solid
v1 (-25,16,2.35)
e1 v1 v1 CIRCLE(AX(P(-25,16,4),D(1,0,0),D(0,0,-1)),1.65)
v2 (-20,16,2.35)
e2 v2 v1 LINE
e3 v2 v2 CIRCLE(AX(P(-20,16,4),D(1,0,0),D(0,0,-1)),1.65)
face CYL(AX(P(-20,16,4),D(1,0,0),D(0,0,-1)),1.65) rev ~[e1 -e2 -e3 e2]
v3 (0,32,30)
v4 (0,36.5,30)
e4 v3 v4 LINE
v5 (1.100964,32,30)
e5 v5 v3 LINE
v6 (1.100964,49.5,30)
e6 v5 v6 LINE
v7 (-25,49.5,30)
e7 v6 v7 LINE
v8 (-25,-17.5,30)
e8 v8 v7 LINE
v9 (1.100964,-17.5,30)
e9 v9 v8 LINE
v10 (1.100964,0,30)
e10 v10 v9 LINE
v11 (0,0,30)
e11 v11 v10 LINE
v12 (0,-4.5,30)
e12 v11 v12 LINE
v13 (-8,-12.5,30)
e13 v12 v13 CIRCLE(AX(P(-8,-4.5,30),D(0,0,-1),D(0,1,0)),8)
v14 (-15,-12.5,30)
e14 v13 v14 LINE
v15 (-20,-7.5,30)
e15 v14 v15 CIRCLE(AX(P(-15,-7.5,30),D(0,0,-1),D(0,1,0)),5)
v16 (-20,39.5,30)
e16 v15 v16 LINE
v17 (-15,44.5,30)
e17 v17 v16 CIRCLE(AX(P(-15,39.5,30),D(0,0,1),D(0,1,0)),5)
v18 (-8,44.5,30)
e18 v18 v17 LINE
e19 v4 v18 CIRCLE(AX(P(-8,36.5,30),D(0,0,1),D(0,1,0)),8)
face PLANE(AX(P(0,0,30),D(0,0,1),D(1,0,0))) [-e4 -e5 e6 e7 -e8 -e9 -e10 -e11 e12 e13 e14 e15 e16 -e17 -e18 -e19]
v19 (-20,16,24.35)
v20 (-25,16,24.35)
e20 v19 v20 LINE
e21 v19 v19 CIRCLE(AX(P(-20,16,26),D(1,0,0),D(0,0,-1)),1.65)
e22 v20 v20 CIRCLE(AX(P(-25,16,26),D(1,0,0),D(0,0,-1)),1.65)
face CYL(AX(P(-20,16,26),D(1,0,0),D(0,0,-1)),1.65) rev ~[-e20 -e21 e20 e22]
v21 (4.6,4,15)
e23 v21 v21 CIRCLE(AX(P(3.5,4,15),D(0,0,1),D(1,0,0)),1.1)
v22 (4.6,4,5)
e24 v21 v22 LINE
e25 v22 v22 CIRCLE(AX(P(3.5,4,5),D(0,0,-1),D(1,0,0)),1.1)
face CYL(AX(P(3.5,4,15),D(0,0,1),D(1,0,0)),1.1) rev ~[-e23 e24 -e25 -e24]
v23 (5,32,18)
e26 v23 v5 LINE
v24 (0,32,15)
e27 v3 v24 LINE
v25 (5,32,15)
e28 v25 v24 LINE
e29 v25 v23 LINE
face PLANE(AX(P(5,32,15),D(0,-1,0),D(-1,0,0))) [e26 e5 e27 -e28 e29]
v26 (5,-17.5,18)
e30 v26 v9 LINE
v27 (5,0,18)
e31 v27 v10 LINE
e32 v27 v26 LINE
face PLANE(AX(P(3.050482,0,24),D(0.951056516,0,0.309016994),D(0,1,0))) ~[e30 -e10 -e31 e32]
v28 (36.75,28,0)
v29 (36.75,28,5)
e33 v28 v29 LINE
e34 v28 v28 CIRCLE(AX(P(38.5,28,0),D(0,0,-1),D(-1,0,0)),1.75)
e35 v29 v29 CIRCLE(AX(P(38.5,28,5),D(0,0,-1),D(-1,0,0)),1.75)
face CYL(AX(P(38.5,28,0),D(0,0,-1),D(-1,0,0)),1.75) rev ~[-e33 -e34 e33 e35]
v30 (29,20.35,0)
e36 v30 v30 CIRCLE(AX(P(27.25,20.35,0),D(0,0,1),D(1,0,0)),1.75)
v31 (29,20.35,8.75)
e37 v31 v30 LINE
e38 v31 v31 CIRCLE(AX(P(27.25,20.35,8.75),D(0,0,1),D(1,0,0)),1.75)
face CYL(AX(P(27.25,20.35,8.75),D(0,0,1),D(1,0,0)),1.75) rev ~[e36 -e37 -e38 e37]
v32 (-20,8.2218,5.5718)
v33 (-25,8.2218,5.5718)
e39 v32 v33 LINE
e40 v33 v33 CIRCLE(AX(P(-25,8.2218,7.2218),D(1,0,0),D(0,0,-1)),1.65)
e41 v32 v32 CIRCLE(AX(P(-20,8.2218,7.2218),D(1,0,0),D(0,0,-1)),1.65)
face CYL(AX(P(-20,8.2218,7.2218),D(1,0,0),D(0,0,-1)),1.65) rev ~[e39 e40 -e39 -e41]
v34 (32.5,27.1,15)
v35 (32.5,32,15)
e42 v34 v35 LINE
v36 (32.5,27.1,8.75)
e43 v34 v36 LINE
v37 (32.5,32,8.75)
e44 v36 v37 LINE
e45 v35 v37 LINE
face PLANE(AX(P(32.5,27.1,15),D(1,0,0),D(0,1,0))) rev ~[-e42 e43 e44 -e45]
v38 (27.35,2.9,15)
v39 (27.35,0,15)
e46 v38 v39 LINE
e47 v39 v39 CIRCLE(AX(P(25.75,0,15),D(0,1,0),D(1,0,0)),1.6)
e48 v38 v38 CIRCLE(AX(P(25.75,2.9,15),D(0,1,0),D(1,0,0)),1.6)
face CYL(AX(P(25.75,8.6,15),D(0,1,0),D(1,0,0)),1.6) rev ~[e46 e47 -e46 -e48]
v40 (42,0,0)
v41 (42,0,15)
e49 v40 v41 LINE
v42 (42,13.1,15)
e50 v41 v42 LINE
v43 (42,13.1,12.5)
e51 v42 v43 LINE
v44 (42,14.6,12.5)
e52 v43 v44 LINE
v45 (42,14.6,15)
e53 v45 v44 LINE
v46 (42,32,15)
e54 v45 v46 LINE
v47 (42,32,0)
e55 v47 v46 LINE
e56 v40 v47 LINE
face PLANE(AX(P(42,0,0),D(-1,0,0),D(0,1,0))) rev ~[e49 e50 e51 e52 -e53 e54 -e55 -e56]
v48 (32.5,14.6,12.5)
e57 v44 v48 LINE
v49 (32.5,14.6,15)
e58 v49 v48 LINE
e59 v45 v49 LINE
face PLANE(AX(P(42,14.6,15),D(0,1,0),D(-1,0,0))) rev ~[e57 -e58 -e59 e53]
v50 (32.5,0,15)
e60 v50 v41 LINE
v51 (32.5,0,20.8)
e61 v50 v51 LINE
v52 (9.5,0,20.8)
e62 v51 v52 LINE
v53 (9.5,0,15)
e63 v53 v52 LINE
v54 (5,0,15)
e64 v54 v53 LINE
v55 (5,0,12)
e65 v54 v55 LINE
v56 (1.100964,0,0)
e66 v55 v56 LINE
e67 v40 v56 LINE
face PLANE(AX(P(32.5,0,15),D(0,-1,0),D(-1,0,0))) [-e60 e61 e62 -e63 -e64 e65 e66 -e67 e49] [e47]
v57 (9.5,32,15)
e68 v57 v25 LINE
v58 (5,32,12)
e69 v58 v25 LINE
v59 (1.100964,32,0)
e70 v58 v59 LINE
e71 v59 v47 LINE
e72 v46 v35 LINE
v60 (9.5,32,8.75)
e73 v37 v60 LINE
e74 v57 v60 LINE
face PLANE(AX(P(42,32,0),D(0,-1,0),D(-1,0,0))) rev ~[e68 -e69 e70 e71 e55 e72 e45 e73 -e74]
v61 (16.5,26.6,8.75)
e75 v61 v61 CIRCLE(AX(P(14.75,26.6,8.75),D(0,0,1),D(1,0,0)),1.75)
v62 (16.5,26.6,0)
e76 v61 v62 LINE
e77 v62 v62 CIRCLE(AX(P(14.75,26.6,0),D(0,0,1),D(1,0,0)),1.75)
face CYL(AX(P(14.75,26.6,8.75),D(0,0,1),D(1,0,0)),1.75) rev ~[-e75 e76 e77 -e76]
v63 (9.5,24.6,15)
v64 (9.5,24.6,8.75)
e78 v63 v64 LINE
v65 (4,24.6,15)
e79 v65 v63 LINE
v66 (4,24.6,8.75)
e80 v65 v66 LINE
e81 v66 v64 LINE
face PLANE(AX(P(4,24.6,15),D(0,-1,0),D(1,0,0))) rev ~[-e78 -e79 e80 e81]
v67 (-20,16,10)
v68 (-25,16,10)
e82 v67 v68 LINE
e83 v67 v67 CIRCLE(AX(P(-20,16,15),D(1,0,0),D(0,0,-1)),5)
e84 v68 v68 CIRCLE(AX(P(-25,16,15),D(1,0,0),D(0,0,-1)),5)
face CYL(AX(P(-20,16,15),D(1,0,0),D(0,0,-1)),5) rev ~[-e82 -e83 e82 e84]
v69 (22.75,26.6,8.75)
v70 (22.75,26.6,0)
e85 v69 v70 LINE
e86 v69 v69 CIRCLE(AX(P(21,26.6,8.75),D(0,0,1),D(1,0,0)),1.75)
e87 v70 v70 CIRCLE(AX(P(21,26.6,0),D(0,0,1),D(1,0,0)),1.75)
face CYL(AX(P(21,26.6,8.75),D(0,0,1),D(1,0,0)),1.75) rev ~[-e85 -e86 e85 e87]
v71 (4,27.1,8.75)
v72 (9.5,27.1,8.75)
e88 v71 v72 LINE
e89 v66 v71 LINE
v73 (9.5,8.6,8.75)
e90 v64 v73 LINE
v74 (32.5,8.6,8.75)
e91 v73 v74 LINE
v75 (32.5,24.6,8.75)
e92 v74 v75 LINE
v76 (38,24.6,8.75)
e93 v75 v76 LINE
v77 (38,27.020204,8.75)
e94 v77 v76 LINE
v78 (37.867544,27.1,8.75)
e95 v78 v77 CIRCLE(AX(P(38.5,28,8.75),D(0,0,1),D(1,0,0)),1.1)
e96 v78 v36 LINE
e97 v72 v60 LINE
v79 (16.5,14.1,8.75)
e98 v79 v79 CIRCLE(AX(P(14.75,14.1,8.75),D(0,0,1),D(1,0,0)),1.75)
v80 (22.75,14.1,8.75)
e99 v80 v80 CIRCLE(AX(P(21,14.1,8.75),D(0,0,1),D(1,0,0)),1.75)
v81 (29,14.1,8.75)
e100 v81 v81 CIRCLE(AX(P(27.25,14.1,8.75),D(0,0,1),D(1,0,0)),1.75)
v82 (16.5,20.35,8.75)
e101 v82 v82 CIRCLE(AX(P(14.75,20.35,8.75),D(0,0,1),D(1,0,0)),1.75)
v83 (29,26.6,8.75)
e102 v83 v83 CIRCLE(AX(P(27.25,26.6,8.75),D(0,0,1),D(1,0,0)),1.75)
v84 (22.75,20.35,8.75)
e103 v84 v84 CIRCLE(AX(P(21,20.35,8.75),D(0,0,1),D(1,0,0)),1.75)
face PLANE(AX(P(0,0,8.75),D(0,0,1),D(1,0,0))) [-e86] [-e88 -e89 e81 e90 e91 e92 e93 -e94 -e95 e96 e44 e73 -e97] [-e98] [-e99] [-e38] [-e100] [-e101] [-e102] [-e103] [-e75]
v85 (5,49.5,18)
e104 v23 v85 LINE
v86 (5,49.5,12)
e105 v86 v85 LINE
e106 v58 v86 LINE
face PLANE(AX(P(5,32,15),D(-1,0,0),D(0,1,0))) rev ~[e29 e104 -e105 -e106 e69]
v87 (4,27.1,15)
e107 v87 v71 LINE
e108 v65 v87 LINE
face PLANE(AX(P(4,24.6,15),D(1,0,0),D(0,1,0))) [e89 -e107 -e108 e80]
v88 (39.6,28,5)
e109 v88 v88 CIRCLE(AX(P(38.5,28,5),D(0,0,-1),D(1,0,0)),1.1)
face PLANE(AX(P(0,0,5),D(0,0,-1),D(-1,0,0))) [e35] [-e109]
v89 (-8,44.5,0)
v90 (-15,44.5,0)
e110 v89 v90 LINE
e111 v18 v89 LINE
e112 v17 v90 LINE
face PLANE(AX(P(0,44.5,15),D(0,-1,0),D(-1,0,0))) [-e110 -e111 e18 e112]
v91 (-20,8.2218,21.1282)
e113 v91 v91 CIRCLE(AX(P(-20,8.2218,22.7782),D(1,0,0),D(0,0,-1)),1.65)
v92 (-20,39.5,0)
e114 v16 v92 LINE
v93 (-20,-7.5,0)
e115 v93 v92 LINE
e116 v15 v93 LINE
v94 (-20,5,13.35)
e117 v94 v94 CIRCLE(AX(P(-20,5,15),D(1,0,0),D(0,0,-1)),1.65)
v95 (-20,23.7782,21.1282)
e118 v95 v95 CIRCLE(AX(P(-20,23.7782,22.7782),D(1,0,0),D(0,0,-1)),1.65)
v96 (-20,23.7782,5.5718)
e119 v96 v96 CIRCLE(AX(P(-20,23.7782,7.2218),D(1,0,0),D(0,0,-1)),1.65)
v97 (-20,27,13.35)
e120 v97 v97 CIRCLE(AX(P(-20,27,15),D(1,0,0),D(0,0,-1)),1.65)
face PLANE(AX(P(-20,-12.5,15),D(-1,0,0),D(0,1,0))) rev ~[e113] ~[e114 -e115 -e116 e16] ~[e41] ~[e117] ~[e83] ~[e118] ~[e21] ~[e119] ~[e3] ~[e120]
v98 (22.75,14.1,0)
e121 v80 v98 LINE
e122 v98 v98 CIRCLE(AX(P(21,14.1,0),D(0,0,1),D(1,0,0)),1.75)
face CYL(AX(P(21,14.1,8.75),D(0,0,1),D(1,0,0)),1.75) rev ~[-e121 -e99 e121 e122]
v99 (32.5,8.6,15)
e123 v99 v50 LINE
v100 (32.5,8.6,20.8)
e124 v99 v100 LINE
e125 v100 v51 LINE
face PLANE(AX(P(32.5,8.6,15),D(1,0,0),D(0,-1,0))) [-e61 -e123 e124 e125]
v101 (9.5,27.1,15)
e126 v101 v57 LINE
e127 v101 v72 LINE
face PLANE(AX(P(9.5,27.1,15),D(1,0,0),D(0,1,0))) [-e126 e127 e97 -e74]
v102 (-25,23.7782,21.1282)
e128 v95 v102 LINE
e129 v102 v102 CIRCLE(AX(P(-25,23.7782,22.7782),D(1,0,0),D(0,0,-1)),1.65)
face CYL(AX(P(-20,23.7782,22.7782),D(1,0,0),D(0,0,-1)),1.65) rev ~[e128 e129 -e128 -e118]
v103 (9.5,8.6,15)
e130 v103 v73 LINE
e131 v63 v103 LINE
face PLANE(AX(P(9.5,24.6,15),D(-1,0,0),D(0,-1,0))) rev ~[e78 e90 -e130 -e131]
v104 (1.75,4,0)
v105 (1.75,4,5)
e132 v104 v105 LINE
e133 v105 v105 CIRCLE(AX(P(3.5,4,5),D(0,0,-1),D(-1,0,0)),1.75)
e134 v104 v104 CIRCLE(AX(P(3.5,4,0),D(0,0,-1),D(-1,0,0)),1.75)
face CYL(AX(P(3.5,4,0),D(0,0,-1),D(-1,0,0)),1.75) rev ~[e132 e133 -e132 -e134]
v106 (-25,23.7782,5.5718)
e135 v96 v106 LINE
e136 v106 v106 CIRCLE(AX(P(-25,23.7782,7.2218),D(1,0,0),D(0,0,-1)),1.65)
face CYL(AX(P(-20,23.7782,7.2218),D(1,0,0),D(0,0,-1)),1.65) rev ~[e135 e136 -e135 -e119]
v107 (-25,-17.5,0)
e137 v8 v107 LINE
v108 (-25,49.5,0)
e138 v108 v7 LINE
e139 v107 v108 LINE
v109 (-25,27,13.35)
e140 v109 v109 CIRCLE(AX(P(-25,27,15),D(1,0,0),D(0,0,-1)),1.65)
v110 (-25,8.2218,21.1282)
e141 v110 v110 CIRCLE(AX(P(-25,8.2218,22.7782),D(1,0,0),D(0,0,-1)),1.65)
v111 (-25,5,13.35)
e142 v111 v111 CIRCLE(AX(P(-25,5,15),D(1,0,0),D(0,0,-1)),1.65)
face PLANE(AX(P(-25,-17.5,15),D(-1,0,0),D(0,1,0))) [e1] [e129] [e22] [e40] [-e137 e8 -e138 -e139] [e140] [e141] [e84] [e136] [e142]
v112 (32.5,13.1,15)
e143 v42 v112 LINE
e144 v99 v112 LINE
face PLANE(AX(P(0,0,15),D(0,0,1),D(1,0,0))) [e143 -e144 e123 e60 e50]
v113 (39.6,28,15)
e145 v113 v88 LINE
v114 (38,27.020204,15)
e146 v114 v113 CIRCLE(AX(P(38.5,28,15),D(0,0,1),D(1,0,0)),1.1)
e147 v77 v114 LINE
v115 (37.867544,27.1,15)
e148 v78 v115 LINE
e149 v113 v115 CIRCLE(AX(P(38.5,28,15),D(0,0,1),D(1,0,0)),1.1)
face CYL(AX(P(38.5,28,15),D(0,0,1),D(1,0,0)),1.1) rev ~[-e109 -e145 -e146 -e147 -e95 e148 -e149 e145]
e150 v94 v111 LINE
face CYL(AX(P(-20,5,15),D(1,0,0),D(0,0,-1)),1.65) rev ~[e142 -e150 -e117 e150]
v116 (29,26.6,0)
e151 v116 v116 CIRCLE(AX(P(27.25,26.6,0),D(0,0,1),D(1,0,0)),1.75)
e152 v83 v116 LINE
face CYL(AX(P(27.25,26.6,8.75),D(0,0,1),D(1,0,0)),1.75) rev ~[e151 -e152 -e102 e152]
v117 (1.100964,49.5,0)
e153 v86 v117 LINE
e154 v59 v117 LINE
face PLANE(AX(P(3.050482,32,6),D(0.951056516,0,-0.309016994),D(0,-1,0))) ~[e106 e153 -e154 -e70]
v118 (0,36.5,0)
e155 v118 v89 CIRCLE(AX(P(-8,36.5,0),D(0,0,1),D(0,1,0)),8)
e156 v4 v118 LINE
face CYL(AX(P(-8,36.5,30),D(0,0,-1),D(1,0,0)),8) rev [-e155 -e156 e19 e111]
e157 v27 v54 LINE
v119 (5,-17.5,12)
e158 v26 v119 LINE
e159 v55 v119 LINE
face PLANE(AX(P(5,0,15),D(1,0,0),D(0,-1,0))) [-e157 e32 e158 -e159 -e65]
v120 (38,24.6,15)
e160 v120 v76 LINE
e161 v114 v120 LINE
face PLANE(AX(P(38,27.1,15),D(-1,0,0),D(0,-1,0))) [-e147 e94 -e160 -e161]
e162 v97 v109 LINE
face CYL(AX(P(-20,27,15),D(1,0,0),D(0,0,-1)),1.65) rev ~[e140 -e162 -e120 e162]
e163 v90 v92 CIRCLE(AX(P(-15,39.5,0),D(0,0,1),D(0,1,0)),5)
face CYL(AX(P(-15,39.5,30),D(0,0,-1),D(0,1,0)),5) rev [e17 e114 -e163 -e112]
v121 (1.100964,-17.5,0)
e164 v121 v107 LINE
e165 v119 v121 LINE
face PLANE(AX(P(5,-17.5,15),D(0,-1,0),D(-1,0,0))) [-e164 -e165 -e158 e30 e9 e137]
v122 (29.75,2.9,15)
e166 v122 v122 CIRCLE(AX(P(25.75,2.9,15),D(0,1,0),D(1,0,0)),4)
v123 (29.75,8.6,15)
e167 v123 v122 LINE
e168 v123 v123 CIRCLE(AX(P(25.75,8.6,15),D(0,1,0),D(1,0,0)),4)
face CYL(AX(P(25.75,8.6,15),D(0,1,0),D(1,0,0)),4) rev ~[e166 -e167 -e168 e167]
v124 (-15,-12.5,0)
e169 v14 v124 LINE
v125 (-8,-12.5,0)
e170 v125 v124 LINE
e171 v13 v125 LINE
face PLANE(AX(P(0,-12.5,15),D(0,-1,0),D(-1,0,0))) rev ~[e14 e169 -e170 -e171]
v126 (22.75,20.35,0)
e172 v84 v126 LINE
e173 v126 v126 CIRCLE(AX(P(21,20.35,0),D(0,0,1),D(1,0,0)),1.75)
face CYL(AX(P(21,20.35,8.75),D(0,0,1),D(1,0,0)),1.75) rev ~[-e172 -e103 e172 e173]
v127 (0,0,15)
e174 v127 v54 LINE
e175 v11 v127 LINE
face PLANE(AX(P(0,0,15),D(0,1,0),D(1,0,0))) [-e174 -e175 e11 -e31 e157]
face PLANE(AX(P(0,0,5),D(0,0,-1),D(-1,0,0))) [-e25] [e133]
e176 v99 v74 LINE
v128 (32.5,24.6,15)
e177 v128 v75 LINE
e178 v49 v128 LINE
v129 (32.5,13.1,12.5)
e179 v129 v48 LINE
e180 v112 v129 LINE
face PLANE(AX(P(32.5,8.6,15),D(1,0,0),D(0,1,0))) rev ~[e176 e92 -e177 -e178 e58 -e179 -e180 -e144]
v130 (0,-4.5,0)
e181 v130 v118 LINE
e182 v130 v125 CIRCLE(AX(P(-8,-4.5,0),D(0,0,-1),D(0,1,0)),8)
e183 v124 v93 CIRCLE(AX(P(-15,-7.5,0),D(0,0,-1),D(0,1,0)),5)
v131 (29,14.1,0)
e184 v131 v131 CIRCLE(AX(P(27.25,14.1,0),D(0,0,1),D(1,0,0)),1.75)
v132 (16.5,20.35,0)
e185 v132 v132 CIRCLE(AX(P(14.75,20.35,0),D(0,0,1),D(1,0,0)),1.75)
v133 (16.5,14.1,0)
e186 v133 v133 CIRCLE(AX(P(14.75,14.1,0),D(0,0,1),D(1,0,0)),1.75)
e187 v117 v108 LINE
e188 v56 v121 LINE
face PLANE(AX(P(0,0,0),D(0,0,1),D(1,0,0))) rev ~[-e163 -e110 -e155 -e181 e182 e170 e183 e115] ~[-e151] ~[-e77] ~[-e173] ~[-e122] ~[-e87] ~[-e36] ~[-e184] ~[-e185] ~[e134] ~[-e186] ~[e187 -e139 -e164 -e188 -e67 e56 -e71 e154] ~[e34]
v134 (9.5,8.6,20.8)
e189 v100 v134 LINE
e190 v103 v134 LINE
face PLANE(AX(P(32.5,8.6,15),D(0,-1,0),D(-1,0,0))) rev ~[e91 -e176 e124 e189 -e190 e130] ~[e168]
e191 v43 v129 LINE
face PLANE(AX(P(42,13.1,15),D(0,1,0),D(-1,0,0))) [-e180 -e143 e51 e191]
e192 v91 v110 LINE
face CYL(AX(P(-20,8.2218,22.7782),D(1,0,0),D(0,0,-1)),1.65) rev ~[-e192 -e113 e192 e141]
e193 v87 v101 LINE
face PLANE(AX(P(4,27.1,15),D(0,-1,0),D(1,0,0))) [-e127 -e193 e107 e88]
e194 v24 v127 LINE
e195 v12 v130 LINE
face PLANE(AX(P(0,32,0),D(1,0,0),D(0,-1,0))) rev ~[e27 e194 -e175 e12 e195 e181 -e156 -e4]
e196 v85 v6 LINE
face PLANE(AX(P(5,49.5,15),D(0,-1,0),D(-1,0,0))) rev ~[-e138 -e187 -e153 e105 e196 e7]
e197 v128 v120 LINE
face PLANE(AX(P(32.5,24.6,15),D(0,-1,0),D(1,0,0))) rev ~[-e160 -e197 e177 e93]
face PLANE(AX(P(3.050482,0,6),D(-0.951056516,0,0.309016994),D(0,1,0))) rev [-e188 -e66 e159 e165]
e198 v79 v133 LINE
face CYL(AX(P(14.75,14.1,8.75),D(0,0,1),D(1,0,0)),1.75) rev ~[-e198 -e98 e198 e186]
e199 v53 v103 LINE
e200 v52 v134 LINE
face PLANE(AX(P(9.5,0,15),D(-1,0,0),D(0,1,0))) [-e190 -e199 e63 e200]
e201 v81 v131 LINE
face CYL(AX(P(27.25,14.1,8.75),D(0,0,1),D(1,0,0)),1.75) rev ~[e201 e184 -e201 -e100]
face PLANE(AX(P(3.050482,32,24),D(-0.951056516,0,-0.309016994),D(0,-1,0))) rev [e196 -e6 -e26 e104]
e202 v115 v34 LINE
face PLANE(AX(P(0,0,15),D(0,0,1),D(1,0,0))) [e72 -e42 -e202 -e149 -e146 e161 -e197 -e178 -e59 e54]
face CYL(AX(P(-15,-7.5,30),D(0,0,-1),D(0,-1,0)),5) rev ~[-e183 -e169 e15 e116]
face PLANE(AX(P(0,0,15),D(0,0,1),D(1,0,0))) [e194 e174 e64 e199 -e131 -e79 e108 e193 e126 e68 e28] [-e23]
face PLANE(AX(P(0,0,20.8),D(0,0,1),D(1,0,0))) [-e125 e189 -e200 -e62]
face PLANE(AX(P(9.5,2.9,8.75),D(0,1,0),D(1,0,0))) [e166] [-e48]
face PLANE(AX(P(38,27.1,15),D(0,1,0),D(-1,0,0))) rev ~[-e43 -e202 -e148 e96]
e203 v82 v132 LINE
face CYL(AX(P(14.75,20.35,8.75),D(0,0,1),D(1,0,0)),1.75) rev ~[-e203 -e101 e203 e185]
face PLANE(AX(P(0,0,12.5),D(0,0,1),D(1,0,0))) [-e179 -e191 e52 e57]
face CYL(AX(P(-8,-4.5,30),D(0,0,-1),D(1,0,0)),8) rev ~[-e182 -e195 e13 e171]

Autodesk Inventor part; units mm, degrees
ref_plane "YZ Plane" through (0, 0, 0) normal (1, 0, 0) x (0, 1, 0)
ref_plane "XZ Plane" through (0, 0, 0) normal (0, 1, 0) x (-1, 0, 0)
ref_plane "XY Plane" through (0, 0, 0) normal (0, 0, 1) x (1, 0, 0)
sketch "Sketch2" plane through (0, 0, 0) normal (0, 0, 1) x (1, 0, 0)
  line L0 (0, 0) -> (42, 0)
  line L1 (42, 0) -> (42, 32)
  line L2 (42, 32) -> (0, 32)
  line L3 (0, 32) -> (0, 0)
  dimension "d0" = 42
  dimension "d1" = 32
extrude "Body_body" add sketch "Sketch2" along normal blind 15
sketch "Sketch4" plane through (0, 0, 15) normal (0, 0, 1) x (1, 0, 0)
  line L0 (42, 32) -> (0, 32) projected
  line L1 (0, 32) -> (0, 0) projected
  line L2 (4, 24.6) -> (9.5, 24.6)
  line L3 (9.5, 24.6) -> (9.5, 8.6)
  line L4 (9.5, 8.6) -> (32.5, 8.6)
  line L5 (32.5, 8.6) -> (32.5, 24.6)
  line L6 (32.5, 24.6) -> (38, 24.6)
  line L7 (42, 0) -> (42, 32) projected
  line L8 (0, 0) -> (42, 0) projected
  line L9 (4, 24.6) -> (4, 27.1)
  line L10 (4, 27.1) -> (9.5, 27.1)
  line L11 (9.5, 27.1) -> (9.5, 32)
  line L12 (38, 27.1) -> (38, 24.6)
  line L13 (38, 27.1) -> (32.5, 27.1)
  line L14 (32.5, 27.1) -> (32.5, 32)
  line L15 (9.5, 32) -> (32.5, 32)
  line L16 (21, 36.5125) -> (21, -47.625) construction
  point P0 (4.9935, 32)
  point P1 (37, 32)
  dimension "d6" = 5.5
  dimension "d7" = 16
  dimension "d8" = 23
  dimension "d11" = 8.6
  dimension "d14" = 2.5
  dimension "d15" = 2.5
  dimension "d22" = 42
  dimension "d23" = 21
  dimension "d24" = 23
  dimension "d25" = 11.5
  dimension "d26" = 4.9
  dimension "d27" = 4.9
  dimension "d28" = 5.5
extrude "Servo_Intake" cut sketch "Sketch4" against normal blind 6.25 contours L14 L13 L12 L6 L5 L4 L3 L2 L9 L10 L11 L0
sketch "Sketch5" plane through (0, 0, 15) normal (0, 0, 1) x (1, 0, 0)
  line L0 (42, 0) -> (42, 32) projected
  line L1 (42, 14.6) -> (42, 13.1)
  line L2 (-29.647, 13.85) -> (54.8226, 13.85) construction
  line L3 (0, 0) -> (42, 0) projected
  line L4 (32.5, 8.6) -> (9.5, 8.6) projected
  line L5 (42, 13.1) -> (32.5, 13.1)
  line L6 (32.5, 13.1) -> (32.5, 14.6)
  line L7 (32.5, 24.6) -> (32.5, 8.6) projected
  line L8 (42, 14.6) -> (32.5, 14.6)
  dimension "d171" = 1.5
  dimension "d211" = 4.5
extrude "Cable_Opening" cut sketch "Sketch5" against normal blind 2.5
sketch "Sketch6" plane through (0, 0, 15) normal (0, 0, 1) x (1, 0, 0)
  circle A0 centre (3.5, 28) radius 1.1 construction
  circle A1 centre (38.5, 28) radius 1.1
  circle A2 centre (38.5, 4) radius 1.1 construction
  circle A3 centre (3.5, 4) radius 1.1
  line L0 (21, 34.35) -> (21, -13.275) construction
  line L1 (-20.6375, 16) -> (66.675, 16) construction
  line L2 (42, 14.6) -> (42, 32) projected
  line L3 (0, 32) -> (0, 0) projected
  line L4 (9.5, 32) -> (0, 32) projected
  line L5 (0, 0) -> (42, 0) projected
  point P0 (42, 12.35)
  point P1 (0, 12.35)
  dimension "d29" = 2.2
  dimension "d30" = 2.2
  dimension "d31" = 2.2
  dimension "d32" = 2.2
  dimension "d33" = 42
  dimension "d34" = 21
  dimension "d35" = 32
  dimension "d36" = 16
  dimension "d37" = 35
  dimension "d38" = 17.5
  dimension "d39" = 24
  dimension "d40" = 12
extrude "Holes_Mounting_Screws" cut sketch "Sketch6" against normal up to surface (15 mm away)
sketch "Sketch10" plane through (0, 0, 15) normal (0, 0, 1) x (1, 0, 0)
  line L0 (32.5, 8.6) -> (9.5, 8.6) projected
  line L1 (9.5, 8.6) -> (32.5, 8.6)
  line L2 (32.5, 8.6) -> (32.5, 0)
  line L3 (32.5, 0) -> (9.5, 0)
  line L4 (9.5, 0) -> (9.5, 8.6)
  line L5 (9.5, 8.6) -> (9.5, 24.6) projected
  line L6 (32.5, 24.6) -> (32.5, 14.6) projected
  point P0 (0, 0)
  point P1 (9.5, 12.35)
  point P2 (32.5, 12.35)
extrude "Socket" add sketch "Sketch10" along normal blind 5.8
sketch "Sketch11" plane through (9.5, 8.6, 8.75) normal (0, 1, 0) x (1, 0, 0)
  circle A0 centre (16.25, -6.25) radius 1.6
  line L0 (-9.5, -6.05) -> (-9.5, -3.55) projected
  line L1 (32.5, 8.75) -> (32.5, -6.25) projected
  point P0 (-9.5, 8.75)
  point P1 (0, -6.25)
  dimension "d65" = 3.2
  dimension "d69" = 16.25
extrude "Shaft_Opening" cut sketch "Sketch11" against normal up to surface (8.6 mm away)
sketch "Sketch12" plane through (9.5, 8.6, 8.75) normal (0, 1, 0) x (1, 0, 0)
  circle A0 centre (16.25, -6.25) radius 4
  circle A1 centre (16.25, -6.25) radius 1.6 projected
  point P0 (-9.5, 8.75)
  dimension "d73" = 8
extrude "Shaft_Pocket" cut sketch "Sketch12" against normal blind 5.7
sketch "Sketch15" plane through (0, 0, 15) normal (0, 0, 1) x (1, 0, 0)
  line L0 (9.5, 32) -> (0, 32) projected
  line L1 (0, 0) -> (9.5, 0) projected
  line L2 (42, 32) -> (32.5, 32) projected
  line L3 (32.5, 0) -> (42, 0) projected
  line L4 (42, 32) -> (0, 32) projected
  line L5 (0, 32) -> (0, 44.5)
  line L6 (0, 44.5) -> (-20, 44.5)
  line L7 (0, 32) -> (5, 32)
  line L8 (5, 32) -> (5, 49.5)
  line L9 (5, 49.5) -> (-25, 49.5)
  line L10 (0, 0) -> (0, -12.5)
  line L11 (0, -12.5) -> (-20, -12.5)
  line L12 (-20, -12.5) -> (-20, 44.5)
  line L13 (0, 0) -> (5, 0)
  line L14 (5, 0) -> (5, -17.5)
  line L15 (5, -17.5) -> (-25, -17.5)
  line L16 (-25, -17.5) -> (-25, 49.5)
  line L17 (0, 32) -> (0, 0) projected
  dimension "d111" = 12.5
  dimension "d113" = 5
  dimension "d114" = 17.5
  dimension "d116" = 12.5
  dimension "d118" = 5
  dimension "d119" = 17.5
  dimension "d120" = 30
  dimension "d161" = 5
  dimension "d175" = 30
  dimension "d191" = 5
  dimension "d212" = 25
extrude "Connection_Adapter" add sketch "Sketch15" along normal mid plane 30 contours L0 L5 L6 L12 L11 L10 L1 L14 L15 L16 L9 L8
sketch "Sketch17" plane through (-20, -12.5, 30) normal (1, 0, 0) x (0, 0, -1)
  circle A0 centre (15, 28.5) radius 11 construction
  line L0 (30, 57) -> (0, 57) projected
  line L1 (30, 0) -> (0, 0) projected
  line L2 (0, 0) -> (0, 57) projected
  line L3 (30, 57) -> (30, 0) projected
  line L4 (15, 15.142) -> (15, 40.542) construction
  line L5 (1.1452, 28.5) -> (27.1241, 28.5) construction
  line L6 (4.9901, 18.4901) -> (35.9566, 49.4566) construction
  line L7 (5.2574, 38.2426) -> (22.7782, 20.7218) construction
  circle A1 centre (7.2218, 20.7218) radius 1.65
  circle A2 centre (4, 28.5) radius 1.65
  circle A3 centre (7.2218, 36.2782) radius 1.65
  circle A4 centre (15, 39.5) radius 1.65
  circle A5 centre (15, 17.5) radius 1.65
  circle A6 centre (22.7782, 20.7218) radius 1.65
  circle A7 centre (26, 28.5) radius 1.65
  circle A8 centre (22.7782, 36.2782) radius 1.65
  point P0 (30, 12.5)
  dimension "d121" = 22
  dimension "d122" = 57
  dimension "d123" = 28.5
  dimension "d124" = 30
  dimension "d125" = 15
  dimension "d126" = 3.3
  dimension "d127" = 3.3
  dimension "d128" = 3.3
  dimension "d129" = 3.3
  dimension "d130" = 3.3
  dimension "d131" = 3.3
  dimension "d132" = 3.3
  dimension "d133" = 3.3
  dimension "d134" = 45
  dimension "d135" = 45
extrude "Connector_Holes" cut sketch "Sketch17" against normal up to surface (5 mm away) contours A1 | A2 | A3 | A4 | A5 | A6 | A7 | A8
sketch "Sketch19" plane through (-20, -12.5, 30) normal (1, 0, 0) x (0, 0, -1)
  circle A0 centre (15, 28.5) radius 5
  line L0 (30, 0) -> (0, 0) projected
  line L1 (30, 57) -> (0, 57) projected
  line L2 (30, 57) -> (30, 0) projected
  line L3 (0, 0) -> (0, 57) projected
  point P0 (30, 12.5)
  dimension "d140" = 10
  dimension "d141" = 57
  dimension "d142" = 28.5
  dimension "d143" = 30
  dimension "d144" = 15
extrude "Connector_Center_Hole" cut sketch "Sketch19" against normal up to surface (5 mm away) contours A0
sketch "Sketch22" plane through (0, 0, 0) normal (0, 0, -1) x (-1, 0, 0)
  circle A0 centre (-38.5, 28) radius 1.1 projected
  line L0 (-3.5, 36.8375) -> (-3.5, -9.2) construction
  line L1 (-42, 0) -> (-42, 32) projected
  line L2 (0, -12.5) -> (0, 44.5) projected
  line L3 (-5, 0) -> (-42, 0) projected
  line L4 (-42, 32) -> (-5, 32) projected
  circle A1 centre (-3.5, 4) radius 1.75
  circle A2 centre (-38.5, 28) radius 1.75
  circle A3 centre (-3.5, 4) radius 1.1 projected
  circle A4 centre (-38.5, 28) radius 1.1 projected
  point P0 (0, 0)
  point P1 (0, -1)
  dimension "d167" = 3.5
  dimension "d168" = 3.5
  dimension "d176" = 2.25
  dimension "d177" = 1.75
extrude "Pocket_Inserts" cut sketch "Sketch22" against normal blind 5
fillet "Fillet4" radius 8 2 edges at (0, 44.5, 15) (0, -12.5, 15)
chamfer "Chamfer1" distance 12 angle 18 1 edges at (5, -8.75, 30) measured on face at (5, -11.6667, 15)
chamfer "Chamfer2" distance 12 angle 18 1 edges at (5, -8.75, 0) measured on face at (5, -11.6667, 11)
chamfer "Chamfer3" distance 12 angle 18 1 edges at (5, 40.75, 30) measured on face at (5, 43.6667, 15)
chamfer "Chamfer4" distance 12 angle 18 1 edges at (5, 40.75, 0) measured on face at (5, 43.6667, 11)
fillet "Fillet5" radius 5 2 edges at (-20, -12.5, 15) (-20, 44.5, 15)
sketch "Sketch24" plane through (0, 0, 8.75) normal (0, 0, 1) x (1, 0, 0)
  circle A0 centre (14.75, 26.6) radius 1.75
  line L0 (9.5, 32) -> (32.5, 32) projected
  line L1 (9.5, 27.1) -> (9.5, 32) projected
  line L2 (32.5, 32) -> (32.5, 27.1) projected
  point P0 (0, 0)
  dimension "d192" = 3.5
  dimension "d193" = 5.4
  dimension "d194" = 5.25
  dimension "d200" = 23
extrude "Heat_dissipation_Hole" cut sketch "Sketch24" against normal up to surface (8.75 mm away)
pattern_linear "Rectangular Pattern1" count 3 spacing 6.25 along (1, 0, 0) count 3 spacing 6.25 along (0, -1, 0) of "Heat_dissipation_Hole"
equation "\"d15\" = d14"
equation "\"d23\" = 0.5 * d22"
equation "\"d25\" = 0.5 * d24"
equation "\"d27\" = d26"
equation "\"d28\" = d6"
equation "\"d34\" = 0.5 * d33"
equation "\"d36\" = 0.5 * d35"
equation "\"d38\" = 0.5 * d37"
equation "\"d40\" = 0.5 * d39"
equation "\"d65\" = d70"
equation "\"d123\" = 0.5 * d122"
equation "\"d125\" = 0.5 * d124"
equation "\"d142\" = 0.5 * d141"
equation "\"d144\" = 0.5 * d143"
equation "\"d167\" = d168"
equation "\"d70\" = 3.2"
properties part number "EDMO1-0_Body" material "PLA"
